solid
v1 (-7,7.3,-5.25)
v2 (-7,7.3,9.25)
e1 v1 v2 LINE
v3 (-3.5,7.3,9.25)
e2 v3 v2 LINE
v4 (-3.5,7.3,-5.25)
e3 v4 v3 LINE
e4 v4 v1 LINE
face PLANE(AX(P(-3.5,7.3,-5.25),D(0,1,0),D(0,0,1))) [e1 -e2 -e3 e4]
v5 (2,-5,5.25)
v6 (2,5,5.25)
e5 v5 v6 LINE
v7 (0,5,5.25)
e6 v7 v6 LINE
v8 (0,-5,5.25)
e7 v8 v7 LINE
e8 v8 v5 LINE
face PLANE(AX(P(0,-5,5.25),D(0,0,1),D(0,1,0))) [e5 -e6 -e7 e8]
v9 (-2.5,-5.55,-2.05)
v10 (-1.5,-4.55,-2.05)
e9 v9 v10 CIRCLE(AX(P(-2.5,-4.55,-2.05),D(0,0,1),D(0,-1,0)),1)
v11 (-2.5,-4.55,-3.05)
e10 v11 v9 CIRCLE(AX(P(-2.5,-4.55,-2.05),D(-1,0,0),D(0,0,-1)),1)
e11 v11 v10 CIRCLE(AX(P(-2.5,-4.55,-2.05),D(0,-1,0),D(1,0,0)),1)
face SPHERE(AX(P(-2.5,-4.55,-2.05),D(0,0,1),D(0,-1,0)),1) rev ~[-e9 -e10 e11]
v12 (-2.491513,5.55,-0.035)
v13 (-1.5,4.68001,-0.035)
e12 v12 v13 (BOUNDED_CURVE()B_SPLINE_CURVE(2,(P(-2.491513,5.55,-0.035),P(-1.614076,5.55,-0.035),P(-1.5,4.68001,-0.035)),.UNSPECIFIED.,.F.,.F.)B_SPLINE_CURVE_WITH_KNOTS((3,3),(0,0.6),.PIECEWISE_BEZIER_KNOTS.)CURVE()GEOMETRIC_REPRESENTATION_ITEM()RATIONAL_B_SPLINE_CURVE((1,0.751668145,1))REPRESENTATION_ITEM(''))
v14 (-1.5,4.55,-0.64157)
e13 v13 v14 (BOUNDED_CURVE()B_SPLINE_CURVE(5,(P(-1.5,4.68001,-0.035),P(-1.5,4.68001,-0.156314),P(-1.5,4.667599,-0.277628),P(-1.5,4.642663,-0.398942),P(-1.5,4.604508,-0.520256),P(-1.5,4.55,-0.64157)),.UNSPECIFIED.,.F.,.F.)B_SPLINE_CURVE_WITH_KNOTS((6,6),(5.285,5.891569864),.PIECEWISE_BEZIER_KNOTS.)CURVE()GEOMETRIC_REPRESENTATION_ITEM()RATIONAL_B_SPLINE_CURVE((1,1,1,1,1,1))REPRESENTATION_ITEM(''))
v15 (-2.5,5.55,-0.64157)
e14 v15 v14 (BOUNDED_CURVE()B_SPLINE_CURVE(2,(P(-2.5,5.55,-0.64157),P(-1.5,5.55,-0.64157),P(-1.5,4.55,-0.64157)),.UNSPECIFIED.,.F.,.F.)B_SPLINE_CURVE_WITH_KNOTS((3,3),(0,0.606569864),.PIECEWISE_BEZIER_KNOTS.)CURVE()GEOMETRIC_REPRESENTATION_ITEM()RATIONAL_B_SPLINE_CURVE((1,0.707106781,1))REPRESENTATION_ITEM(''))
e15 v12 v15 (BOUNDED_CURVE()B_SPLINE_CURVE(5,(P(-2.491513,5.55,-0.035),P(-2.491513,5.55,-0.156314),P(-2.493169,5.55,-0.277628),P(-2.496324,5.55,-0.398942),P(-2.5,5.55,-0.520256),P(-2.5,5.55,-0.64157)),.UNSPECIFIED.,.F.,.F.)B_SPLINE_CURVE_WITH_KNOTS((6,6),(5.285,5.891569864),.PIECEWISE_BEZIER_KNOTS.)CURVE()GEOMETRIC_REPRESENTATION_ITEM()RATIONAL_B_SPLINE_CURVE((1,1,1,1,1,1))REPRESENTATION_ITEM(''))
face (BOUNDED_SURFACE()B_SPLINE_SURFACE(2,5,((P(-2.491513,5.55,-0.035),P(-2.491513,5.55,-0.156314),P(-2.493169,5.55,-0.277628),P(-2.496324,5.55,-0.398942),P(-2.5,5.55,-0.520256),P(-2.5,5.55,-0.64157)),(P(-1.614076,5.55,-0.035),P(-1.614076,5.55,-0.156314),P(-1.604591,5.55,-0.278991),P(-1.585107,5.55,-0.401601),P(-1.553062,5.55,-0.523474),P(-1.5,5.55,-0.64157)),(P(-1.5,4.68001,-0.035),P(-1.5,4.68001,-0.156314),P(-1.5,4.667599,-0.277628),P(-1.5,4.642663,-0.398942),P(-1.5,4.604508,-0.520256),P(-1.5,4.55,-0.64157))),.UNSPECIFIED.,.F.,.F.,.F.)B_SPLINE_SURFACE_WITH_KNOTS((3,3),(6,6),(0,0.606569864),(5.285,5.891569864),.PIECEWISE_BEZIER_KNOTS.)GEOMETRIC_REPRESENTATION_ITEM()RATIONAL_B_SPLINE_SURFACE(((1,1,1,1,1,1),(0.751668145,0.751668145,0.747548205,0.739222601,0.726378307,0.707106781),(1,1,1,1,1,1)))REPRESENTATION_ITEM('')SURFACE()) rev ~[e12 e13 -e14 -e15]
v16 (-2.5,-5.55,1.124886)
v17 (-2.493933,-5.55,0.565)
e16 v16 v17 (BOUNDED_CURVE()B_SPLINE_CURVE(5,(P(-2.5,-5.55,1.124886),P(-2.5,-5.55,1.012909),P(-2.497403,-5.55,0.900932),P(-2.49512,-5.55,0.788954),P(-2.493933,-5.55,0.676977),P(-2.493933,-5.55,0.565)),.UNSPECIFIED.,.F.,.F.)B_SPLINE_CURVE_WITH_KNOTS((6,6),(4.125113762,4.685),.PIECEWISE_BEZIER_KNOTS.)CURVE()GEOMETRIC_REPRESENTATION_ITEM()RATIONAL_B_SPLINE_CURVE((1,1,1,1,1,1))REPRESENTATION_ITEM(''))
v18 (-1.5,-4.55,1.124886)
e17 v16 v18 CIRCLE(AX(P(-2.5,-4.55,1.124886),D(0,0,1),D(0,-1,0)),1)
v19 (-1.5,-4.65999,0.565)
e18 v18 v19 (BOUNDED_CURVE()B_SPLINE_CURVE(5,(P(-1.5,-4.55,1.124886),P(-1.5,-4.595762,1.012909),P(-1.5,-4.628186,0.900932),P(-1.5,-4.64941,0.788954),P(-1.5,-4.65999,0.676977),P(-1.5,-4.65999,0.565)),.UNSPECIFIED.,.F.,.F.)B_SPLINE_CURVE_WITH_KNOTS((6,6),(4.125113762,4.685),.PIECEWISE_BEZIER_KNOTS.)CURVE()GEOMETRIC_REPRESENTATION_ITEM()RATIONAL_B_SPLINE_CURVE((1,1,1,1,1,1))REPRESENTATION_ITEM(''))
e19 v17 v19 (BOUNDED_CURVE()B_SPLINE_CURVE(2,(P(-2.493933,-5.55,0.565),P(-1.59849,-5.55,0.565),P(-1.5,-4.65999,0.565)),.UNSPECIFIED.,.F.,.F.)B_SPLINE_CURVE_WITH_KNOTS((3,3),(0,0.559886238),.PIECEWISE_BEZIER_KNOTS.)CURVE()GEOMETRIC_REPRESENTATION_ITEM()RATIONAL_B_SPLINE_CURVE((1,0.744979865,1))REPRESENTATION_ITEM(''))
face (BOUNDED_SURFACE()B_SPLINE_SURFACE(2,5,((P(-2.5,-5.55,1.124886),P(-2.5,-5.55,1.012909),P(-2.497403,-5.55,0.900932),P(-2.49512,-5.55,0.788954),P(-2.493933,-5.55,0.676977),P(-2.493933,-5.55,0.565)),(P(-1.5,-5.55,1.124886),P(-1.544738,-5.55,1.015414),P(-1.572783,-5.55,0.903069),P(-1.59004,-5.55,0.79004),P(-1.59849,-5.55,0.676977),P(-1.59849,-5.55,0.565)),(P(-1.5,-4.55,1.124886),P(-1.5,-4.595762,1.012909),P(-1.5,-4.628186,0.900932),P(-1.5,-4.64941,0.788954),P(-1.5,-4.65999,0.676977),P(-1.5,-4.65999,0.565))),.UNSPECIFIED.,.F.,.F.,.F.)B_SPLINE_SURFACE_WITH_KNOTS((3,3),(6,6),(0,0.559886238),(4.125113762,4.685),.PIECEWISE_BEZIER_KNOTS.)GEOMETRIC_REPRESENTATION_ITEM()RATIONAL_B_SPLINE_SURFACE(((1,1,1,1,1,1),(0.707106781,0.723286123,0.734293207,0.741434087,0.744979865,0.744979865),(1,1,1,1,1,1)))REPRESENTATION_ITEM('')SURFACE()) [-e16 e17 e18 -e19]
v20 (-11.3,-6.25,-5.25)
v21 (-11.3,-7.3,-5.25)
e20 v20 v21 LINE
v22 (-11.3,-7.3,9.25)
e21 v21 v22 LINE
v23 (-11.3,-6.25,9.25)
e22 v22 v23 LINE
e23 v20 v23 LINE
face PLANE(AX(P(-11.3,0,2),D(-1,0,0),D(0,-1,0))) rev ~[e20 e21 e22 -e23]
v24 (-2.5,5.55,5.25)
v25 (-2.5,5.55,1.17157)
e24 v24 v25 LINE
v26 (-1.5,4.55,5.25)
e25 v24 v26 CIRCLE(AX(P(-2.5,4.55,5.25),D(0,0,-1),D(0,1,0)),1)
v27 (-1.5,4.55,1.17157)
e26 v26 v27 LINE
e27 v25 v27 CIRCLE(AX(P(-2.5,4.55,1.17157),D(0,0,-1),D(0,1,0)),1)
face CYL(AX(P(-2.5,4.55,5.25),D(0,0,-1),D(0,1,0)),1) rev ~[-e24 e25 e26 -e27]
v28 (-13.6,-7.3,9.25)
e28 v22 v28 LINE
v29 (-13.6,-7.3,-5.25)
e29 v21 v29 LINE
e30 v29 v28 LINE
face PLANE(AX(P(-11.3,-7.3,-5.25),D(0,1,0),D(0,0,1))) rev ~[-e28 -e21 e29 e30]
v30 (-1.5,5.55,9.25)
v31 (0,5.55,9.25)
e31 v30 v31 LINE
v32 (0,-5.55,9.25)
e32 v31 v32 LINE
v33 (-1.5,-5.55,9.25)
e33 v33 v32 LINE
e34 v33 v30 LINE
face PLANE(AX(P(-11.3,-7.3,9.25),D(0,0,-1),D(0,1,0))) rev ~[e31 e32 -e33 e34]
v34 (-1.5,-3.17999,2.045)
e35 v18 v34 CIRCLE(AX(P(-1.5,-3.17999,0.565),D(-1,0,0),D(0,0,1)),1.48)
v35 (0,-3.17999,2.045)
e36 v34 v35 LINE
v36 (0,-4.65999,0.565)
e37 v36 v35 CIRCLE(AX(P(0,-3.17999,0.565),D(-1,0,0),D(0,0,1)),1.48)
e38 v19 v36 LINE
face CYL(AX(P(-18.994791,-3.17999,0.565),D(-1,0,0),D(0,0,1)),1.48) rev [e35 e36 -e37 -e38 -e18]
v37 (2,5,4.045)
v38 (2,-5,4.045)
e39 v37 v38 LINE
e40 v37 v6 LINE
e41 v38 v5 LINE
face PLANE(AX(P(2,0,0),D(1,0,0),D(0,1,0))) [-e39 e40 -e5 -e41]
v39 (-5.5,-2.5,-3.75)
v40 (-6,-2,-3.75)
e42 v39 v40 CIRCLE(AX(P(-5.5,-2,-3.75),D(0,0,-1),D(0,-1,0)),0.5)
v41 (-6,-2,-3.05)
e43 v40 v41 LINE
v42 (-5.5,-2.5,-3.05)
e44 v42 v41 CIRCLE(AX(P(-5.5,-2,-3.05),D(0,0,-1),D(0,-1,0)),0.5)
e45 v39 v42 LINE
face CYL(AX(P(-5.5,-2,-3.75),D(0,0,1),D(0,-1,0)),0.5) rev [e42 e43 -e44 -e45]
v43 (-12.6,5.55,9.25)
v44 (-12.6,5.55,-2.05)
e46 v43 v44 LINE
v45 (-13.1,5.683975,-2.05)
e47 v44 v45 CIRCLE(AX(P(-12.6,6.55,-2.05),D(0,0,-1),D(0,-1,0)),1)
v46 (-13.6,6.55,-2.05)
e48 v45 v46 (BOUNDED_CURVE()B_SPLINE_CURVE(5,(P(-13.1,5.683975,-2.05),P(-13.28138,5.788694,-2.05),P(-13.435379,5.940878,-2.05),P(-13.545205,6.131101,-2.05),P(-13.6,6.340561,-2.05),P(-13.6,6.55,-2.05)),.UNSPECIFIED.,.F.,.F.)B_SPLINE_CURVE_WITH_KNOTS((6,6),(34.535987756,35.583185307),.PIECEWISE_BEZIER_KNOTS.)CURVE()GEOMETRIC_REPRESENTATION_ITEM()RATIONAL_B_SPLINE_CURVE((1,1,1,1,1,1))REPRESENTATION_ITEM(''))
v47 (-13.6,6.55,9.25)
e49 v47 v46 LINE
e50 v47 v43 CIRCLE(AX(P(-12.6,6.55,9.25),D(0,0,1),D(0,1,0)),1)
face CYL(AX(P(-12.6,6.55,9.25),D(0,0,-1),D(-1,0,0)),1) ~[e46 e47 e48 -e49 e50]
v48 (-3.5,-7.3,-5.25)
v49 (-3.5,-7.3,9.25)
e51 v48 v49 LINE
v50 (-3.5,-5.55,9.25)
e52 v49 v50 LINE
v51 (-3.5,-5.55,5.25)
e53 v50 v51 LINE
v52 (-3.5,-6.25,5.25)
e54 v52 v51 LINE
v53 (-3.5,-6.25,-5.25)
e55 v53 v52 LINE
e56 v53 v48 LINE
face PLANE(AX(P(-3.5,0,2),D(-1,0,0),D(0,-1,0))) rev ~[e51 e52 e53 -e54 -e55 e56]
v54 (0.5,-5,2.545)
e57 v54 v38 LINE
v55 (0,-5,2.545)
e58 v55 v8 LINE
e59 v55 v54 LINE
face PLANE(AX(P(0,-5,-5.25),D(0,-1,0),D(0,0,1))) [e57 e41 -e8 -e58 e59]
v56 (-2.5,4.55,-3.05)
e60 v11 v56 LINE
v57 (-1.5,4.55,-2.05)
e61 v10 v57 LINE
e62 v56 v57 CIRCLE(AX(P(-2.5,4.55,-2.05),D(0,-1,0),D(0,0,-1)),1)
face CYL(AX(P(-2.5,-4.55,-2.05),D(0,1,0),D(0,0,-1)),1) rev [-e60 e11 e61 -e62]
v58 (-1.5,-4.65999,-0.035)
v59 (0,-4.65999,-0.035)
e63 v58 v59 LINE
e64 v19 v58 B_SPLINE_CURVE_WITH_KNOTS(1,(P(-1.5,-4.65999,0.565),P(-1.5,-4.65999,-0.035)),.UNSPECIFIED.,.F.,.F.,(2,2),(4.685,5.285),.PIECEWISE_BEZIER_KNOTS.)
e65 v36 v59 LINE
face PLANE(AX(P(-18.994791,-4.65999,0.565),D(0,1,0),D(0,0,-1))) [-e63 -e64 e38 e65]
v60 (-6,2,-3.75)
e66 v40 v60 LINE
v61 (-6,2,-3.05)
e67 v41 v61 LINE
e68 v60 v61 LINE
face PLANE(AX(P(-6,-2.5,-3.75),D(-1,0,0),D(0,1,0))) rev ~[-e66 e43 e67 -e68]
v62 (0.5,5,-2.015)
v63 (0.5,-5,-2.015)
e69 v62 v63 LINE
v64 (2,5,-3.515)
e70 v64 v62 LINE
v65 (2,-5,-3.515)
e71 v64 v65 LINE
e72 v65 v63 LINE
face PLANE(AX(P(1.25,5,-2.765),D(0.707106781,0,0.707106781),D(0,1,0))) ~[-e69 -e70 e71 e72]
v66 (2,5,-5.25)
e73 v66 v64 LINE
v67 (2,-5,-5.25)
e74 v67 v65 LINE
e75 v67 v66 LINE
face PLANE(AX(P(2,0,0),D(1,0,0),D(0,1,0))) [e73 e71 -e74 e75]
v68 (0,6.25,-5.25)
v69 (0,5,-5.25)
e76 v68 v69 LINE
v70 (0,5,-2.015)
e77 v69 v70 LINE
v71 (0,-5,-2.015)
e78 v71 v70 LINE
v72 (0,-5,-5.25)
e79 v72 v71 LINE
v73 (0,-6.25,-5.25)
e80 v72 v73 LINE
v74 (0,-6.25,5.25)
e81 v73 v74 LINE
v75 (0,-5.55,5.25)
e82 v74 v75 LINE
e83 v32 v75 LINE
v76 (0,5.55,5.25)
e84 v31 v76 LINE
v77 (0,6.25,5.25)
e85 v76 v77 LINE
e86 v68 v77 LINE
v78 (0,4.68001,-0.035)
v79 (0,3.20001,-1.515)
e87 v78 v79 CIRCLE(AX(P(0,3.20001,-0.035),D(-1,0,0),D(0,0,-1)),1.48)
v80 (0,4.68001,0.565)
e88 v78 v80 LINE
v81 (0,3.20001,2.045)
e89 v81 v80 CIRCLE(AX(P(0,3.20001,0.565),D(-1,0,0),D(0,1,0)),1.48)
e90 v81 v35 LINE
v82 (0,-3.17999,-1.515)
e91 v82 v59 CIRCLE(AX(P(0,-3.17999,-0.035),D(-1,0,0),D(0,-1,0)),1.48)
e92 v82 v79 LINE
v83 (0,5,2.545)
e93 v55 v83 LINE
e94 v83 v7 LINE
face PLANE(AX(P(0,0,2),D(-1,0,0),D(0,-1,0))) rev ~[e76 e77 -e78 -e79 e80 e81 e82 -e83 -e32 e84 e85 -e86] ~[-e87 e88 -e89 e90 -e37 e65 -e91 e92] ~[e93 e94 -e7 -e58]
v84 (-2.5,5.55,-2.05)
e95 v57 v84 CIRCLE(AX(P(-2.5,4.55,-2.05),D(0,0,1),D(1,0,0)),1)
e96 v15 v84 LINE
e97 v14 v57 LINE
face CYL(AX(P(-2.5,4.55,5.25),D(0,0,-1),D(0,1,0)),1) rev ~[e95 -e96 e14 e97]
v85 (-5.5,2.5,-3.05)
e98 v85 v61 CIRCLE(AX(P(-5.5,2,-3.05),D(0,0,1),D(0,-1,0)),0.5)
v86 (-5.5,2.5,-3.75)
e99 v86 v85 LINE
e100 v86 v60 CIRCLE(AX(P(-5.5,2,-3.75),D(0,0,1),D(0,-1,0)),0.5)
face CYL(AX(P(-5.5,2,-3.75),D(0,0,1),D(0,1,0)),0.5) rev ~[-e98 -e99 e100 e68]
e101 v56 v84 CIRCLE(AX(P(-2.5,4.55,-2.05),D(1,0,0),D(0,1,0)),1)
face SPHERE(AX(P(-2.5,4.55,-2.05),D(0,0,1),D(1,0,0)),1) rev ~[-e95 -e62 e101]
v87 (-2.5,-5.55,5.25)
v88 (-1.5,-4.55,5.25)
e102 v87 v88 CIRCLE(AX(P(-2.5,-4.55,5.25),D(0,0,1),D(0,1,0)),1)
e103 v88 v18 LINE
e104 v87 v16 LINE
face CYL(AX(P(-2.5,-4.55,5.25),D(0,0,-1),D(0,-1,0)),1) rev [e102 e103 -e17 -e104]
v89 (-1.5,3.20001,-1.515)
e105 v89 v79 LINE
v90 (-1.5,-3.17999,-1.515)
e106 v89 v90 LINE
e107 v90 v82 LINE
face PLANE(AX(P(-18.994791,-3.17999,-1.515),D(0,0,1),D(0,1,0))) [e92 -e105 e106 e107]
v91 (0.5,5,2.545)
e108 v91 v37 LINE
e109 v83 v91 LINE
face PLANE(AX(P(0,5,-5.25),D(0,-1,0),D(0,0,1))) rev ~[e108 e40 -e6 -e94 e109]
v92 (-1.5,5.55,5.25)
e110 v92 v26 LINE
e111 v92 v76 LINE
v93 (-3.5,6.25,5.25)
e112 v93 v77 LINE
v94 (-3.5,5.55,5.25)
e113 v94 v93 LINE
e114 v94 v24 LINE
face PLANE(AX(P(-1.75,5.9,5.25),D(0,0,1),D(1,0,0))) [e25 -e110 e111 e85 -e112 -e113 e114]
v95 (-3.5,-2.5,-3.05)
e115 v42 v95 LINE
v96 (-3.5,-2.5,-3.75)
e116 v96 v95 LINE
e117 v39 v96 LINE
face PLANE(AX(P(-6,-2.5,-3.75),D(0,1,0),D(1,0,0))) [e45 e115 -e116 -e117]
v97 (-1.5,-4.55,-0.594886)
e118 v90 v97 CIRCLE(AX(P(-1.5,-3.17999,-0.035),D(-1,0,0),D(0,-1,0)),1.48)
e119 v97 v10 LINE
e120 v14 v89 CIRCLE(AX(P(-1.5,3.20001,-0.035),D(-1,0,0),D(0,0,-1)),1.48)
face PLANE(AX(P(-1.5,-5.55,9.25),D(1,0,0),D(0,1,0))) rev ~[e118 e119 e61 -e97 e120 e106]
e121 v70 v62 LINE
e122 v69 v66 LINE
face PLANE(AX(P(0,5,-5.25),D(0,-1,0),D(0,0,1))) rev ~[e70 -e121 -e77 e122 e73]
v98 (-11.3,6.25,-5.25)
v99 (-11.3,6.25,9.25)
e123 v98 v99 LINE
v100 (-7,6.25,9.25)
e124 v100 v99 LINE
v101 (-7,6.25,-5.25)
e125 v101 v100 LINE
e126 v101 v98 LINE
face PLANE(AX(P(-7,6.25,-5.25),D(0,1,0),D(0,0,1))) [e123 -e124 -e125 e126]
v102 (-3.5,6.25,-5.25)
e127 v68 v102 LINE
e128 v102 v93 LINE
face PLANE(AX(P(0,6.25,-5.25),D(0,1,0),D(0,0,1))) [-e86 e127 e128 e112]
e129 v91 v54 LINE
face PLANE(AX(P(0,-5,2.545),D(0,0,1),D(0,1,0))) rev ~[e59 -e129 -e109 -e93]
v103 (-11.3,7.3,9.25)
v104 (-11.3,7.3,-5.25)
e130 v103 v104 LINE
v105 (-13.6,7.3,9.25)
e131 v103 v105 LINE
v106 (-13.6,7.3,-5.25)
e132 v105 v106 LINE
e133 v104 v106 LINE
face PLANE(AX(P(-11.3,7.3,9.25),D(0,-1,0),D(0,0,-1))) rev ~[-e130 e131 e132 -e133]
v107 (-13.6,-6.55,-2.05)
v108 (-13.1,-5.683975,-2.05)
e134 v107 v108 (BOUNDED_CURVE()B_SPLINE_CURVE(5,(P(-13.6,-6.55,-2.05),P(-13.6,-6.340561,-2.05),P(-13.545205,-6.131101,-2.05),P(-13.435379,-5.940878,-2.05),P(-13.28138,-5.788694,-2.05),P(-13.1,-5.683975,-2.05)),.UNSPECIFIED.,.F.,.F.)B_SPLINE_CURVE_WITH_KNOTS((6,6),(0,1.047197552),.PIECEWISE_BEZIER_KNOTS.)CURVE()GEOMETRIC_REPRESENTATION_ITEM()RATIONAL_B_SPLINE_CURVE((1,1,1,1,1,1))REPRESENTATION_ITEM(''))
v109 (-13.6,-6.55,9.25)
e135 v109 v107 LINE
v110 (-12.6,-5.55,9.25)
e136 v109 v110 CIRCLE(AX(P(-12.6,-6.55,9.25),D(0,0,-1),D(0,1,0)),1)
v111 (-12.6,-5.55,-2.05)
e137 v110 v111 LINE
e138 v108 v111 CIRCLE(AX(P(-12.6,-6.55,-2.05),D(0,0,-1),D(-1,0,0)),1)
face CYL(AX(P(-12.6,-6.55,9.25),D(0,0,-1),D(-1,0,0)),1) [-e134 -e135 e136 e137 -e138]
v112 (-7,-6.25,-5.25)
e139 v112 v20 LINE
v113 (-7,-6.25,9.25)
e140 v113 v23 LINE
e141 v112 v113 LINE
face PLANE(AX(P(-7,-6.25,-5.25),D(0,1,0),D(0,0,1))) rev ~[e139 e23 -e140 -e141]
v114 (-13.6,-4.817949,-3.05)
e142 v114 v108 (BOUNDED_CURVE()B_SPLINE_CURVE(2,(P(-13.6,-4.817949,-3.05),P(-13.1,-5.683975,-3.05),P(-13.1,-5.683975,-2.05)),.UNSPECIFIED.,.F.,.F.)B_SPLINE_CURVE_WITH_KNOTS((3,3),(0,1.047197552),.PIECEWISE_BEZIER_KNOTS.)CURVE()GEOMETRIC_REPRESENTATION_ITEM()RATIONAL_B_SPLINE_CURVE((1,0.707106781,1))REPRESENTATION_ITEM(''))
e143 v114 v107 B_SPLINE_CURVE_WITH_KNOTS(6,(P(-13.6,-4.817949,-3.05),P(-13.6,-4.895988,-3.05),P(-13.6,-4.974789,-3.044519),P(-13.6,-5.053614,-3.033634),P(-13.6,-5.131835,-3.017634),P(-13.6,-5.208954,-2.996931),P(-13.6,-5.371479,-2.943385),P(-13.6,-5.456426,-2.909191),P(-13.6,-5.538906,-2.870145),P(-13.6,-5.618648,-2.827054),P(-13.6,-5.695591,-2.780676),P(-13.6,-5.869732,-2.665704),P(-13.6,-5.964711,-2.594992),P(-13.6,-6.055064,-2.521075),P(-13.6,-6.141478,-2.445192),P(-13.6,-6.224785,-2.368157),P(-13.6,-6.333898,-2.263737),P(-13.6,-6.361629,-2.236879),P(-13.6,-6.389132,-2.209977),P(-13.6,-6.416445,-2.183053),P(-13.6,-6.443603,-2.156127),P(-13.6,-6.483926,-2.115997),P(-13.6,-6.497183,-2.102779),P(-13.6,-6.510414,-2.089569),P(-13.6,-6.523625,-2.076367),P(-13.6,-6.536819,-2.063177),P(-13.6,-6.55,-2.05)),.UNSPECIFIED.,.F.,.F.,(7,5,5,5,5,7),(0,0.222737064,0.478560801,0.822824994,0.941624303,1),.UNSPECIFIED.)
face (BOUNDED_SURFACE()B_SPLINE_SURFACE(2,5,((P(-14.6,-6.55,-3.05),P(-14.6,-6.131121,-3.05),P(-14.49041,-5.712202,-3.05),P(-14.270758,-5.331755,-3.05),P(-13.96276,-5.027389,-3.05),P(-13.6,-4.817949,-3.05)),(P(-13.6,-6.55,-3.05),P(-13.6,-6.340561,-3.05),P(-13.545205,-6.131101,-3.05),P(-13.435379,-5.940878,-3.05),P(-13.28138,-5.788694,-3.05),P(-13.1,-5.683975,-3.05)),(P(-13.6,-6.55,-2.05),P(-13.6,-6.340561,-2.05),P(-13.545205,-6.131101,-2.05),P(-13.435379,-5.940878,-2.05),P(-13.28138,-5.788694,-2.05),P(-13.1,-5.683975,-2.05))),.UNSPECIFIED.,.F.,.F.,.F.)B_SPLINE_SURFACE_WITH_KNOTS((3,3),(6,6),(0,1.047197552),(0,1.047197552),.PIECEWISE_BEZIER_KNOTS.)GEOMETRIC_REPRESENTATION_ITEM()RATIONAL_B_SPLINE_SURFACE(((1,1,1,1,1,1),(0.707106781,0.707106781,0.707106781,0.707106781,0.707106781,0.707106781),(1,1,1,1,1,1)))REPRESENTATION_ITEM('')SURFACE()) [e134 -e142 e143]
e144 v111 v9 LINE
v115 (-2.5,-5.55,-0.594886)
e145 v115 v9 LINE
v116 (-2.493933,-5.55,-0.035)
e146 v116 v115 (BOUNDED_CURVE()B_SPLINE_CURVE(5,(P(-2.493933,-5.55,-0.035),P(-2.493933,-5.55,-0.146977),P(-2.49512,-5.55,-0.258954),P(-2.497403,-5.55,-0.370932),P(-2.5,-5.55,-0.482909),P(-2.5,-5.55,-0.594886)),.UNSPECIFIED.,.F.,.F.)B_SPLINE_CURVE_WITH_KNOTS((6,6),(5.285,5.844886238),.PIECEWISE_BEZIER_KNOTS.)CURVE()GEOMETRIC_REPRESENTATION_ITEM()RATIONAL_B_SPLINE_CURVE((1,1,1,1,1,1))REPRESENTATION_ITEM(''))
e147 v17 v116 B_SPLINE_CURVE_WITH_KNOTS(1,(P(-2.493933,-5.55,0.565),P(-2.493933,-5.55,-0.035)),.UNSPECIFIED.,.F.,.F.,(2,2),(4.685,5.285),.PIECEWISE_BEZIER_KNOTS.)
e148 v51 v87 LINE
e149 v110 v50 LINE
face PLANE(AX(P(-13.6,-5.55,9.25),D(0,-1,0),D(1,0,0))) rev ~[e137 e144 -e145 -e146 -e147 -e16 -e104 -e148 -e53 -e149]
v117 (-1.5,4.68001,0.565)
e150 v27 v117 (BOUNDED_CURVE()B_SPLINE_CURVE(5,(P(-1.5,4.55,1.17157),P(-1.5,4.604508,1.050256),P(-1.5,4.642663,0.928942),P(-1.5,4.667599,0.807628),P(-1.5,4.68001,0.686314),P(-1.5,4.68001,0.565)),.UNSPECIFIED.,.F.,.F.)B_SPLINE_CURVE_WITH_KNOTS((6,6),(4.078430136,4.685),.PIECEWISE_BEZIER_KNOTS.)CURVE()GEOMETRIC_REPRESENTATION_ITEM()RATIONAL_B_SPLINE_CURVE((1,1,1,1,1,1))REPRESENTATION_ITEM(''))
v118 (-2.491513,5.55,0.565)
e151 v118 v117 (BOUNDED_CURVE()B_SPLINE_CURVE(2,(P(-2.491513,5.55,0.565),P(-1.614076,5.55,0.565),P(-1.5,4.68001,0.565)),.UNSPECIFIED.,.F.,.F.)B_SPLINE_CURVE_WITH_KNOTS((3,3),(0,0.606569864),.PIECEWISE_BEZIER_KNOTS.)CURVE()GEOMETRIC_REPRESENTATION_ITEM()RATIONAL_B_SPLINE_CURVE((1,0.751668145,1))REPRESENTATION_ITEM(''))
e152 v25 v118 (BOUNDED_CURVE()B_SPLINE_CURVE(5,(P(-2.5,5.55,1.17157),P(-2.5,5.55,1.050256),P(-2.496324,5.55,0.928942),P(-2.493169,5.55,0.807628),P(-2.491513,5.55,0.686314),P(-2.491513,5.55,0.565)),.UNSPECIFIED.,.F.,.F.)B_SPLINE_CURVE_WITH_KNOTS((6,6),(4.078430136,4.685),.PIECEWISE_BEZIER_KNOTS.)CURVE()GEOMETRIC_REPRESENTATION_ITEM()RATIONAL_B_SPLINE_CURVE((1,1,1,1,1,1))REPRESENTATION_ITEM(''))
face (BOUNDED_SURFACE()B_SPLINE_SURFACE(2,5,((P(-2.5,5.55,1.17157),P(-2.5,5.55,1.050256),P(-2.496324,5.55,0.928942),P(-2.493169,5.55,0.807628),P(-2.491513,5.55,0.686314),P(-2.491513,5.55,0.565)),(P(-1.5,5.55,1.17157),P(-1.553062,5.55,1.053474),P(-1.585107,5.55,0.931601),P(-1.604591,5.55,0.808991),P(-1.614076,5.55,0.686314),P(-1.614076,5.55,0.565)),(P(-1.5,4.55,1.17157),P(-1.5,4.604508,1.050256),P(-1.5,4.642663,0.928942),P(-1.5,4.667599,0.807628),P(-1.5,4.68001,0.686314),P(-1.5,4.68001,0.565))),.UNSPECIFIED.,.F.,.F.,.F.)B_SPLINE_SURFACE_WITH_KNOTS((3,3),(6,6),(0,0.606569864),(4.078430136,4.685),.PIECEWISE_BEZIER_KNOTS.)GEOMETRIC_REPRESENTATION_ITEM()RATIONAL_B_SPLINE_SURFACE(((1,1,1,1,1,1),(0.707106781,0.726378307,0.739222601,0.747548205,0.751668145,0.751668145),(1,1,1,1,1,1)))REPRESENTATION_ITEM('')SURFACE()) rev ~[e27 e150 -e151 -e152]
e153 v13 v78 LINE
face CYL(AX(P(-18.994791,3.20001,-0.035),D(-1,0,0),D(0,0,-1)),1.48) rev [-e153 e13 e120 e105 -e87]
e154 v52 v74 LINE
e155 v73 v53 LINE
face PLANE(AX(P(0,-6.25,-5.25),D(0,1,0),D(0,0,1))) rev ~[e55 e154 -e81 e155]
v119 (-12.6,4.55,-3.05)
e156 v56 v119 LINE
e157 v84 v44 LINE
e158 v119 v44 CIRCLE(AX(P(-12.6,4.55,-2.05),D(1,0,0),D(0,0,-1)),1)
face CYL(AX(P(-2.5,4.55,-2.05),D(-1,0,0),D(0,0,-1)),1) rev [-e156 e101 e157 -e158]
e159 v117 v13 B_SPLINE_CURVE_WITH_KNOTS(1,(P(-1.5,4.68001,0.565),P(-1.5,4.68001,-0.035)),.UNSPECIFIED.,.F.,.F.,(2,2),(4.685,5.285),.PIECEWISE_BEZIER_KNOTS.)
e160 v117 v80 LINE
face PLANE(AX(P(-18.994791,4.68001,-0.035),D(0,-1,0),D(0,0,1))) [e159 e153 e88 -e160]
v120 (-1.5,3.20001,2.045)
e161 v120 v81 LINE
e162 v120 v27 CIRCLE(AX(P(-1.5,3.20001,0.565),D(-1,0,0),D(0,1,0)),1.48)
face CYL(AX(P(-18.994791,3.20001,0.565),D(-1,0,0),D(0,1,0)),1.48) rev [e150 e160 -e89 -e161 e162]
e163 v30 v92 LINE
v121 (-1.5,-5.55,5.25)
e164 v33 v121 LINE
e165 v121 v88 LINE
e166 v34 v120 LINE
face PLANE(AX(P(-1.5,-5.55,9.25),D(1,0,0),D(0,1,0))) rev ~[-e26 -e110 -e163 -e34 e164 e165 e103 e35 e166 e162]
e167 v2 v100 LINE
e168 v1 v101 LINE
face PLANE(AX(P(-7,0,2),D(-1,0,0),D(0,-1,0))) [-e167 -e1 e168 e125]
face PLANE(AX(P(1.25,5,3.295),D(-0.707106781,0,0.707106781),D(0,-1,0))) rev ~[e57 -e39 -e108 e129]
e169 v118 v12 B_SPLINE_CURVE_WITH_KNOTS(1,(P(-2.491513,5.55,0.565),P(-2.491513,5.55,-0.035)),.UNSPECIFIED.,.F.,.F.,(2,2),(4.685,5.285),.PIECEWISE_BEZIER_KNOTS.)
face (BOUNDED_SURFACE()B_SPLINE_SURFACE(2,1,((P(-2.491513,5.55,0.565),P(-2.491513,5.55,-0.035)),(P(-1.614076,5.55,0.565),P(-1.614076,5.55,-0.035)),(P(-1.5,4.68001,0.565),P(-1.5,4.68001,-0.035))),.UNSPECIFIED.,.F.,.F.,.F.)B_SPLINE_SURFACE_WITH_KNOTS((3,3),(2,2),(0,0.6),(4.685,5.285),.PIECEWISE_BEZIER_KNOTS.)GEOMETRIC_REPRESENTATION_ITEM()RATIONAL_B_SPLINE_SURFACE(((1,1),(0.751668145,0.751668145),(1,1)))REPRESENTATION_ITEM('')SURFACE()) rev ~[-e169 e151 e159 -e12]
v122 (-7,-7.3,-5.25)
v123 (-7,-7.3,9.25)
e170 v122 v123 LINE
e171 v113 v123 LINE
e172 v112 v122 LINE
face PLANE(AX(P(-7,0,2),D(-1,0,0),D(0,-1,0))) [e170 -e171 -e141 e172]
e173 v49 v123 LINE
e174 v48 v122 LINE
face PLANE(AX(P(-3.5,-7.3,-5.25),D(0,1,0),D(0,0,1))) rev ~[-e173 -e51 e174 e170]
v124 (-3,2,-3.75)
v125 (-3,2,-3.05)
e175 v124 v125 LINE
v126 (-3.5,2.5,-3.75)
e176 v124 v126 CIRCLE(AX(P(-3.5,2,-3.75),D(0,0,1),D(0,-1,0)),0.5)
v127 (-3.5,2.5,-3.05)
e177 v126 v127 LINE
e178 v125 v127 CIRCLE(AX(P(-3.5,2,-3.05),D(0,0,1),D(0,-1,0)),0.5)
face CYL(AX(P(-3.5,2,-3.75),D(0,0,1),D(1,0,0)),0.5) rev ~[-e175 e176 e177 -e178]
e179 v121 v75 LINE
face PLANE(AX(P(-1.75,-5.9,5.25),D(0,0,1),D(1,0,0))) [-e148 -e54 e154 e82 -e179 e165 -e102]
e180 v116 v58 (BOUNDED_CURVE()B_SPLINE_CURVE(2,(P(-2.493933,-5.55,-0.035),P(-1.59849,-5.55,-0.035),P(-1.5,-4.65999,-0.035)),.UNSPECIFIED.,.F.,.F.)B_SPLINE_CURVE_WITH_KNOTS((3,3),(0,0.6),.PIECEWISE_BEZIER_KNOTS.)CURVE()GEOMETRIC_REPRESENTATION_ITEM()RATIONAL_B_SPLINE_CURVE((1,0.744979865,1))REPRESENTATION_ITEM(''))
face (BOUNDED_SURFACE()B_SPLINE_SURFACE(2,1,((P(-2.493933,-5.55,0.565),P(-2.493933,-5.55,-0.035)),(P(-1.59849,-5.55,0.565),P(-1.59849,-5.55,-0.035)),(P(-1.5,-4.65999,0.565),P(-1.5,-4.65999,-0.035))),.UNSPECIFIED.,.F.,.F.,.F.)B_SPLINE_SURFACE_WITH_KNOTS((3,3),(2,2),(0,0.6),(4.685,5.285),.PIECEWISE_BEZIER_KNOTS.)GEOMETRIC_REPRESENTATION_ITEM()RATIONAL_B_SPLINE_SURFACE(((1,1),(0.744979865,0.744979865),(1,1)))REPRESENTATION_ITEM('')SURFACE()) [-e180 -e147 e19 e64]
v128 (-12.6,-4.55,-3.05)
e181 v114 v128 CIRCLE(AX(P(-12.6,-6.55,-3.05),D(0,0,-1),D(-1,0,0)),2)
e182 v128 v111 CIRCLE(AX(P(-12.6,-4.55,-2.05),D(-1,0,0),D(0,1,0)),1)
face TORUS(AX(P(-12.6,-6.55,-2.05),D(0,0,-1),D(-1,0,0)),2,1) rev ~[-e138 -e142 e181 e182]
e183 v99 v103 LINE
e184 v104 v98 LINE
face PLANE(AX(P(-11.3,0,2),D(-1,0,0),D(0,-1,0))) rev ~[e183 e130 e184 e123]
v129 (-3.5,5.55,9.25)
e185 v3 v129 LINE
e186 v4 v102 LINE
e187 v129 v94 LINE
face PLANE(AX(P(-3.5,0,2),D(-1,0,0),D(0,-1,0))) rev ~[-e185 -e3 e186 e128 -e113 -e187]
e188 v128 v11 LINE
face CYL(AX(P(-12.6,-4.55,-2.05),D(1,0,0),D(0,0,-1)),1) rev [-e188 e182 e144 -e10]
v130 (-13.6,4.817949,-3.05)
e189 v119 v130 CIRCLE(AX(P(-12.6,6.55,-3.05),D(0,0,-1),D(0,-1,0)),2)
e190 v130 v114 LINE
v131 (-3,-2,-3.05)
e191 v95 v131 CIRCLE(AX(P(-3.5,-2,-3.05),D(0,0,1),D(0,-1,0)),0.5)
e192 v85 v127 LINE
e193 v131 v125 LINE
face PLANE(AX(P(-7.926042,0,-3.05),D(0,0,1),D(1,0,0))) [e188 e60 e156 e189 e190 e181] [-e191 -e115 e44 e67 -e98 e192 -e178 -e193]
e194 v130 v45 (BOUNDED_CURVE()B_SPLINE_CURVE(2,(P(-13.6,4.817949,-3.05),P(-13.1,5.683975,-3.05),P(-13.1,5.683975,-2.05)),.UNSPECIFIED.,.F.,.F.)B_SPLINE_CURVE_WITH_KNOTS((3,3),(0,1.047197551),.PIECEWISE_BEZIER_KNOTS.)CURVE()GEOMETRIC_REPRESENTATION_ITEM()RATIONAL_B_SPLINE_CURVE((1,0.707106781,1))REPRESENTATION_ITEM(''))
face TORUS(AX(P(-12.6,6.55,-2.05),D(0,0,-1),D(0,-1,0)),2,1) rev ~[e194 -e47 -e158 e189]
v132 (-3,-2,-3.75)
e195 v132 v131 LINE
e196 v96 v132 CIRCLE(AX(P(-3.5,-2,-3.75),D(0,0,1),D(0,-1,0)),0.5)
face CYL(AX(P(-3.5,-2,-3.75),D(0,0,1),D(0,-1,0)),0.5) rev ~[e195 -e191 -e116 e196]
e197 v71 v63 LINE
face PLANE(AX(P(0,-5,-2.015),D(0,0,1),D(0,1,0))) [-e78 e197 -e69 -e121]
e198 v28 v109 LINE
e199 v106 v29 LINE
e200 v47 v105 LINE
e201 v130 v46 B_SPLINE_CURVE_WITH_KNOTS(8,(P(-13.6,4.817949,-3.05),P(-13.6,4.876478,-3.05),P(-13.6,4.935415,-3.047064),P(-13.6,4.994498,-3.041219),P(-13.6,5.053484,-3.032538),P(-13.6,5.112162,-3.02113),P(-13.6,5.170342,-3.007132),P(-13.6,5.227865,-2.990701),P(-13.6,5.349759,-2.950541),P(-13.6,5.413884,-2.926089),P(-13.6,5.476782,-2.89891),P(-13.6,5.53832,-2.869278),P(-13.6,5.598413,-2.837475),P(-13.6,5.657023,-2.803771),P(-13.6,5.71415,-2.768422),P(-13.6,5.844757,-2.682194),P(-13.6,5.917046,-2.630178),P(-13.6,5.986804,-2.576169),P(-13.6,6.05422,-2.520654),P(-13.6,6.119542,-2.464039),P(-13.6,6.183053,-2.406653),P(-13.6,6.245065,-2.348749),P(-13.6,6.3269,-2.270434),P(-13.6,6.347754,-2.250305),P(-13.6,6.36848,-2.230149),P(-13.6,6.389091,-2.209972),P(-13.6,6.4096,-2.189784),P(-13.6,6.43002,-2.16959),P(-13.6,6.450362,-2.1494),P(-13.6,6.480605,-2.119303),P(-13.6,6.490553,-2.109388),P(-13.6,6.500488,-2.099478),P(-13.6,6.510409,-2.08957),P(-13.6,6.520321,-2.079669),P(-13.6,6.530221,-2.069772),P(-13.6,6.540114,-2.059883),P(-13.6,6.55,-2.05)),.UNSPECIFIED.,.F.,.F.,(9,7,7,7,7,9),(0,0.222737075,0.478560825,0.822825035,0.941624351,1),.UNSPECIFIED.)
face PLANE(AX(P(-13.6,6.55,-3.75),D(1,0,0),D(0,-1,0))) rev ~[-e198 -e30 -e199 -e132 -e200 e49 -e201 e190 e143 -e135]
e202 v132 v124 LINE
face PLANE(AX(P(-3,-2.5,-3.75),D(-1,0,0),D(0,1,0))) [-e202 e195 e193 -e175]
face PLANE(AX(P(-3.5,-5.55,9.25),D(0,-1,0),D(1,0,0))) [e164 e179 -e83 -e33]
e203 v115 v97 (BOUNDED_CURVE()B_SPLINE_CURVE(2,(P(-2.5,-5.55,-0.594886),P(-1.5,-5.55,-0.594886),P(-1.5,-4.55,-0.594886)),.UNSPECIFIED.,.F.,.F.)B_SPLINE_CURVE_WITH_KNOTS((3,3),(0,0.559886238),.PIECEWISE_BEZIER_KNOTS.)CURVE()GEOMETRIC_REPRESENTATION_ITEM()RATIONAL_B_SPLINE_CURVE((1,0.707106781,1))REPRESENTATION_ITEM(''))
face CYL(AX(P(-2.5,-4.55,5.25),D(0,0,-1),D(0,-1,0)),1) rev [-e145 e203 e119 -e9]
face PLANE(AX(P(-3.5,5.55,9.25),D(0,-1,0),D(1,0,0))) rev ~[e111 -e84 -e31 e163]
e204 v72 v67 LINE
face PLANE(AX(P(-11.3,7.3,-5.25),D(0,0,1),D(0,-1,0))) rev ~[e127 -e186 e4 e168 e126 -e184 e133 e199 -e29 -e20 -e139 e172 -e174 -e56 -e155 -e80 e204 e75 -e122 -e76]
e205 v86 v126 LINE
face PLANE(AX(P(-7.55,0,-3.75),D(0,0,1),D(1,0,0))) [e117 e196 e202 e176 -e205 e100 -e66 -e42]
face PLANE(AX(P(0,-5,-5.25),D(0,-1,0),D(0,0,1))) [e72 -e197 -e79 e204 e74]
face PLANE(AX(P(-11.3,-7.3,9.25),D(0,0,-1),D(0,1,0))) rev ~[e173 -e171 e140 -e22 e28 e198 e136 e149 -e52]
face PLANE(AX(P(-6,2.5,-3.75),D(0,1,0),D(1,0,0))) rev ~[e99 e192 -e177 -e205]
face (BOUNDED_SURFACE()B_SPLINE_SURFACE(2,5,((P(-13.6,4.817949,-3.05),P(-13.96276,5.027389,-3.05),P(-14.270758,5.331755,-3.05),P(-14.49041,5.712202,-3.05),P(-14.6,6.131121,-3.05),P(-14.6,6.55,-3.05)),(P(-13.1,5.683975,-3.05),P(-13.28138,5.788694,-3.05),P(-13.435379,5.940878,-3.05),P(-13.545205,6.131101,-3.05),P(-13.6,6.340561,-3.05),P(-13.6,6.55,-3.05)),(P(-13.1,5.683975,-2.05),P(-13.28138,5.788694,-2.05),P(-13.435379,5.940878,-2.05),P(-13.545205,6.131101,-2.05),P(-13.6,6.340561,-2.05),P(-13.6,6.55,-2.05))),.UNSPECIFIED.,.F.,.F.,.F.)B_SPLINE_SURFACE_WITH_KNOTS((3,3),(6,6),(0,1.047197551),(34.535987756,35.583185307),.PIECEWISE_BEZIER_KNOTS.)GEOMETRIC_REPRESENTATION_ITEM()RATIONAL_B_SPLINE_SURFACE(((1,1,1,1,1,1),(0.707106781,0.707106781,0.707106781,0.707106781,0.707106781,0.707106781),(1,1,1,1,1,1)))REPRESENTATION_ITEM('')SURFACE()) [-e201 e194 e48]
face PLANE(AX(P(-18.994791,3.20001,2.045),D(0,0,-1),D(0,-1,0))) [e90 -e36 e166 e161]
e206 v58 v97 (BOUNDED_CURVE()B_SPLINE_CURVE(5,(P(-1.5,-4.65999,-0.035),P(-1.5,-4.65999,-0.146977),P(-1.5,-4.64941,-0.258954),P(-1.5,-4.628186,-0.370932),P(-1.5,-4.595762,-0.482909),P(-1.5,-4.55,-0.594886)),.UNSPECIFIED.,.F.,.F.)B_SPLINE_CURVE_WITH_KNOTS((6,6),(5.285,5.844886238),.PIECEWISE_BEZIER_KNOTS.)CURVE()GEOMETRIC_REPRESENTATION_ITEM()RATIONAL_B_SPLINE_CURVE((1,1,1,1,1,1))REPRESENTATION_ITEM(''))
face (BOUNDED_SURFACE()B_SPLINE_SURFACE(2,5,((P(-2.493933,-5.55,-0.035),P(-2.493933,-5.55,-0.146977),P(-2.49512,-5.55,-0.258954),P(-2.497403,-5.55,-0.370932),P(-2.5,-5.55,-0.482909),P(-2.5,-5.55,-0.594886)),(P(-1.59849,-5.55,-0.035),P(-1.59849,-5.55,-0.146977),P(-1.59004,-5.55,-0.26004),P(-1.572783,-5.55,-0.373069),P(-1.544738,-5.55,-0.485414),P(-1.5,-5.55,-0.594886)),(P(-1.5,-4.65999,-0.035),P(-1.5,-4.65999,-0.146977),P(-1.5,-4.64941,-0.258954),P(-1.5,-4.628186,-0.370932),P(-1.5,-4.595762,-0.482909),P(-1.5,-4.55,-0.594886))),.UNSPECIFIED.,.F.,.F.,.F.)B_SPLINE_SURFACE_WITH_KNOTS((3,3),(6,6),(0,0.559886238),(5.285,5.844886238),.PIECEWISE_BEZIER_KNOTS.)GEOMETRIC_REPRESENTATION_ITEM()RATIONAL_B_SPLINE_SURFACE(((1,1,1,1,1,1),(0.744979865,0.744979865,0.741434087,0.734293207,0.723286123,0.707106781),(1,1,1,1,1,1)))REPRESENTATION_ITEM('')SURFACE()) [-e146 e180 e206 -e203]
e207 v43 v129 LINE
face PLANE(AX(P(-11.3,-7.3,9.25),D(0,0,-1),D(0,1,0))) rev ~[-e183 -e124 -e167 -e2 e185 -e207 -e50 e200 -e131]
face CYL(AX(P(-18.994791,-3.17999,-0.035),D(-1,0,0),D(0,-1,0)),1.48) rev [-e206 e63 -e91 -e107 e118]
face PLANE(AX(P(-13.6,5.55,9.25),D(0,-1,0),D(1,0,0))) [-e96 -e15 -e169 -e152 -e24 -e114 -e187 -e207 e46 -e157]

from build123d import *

# Parameters (mm, degrees)
SKETCH2_W                = 10
SKETCH2_H                = 10.5
BOSS_EXTRUDE1_DEPTH      = 2
SKETCH3_W                = 12.5
SKETCH3_H                = 14.5
BOSS_EXTRUDE2_DEPTH      = 3.5
SKETCH4_W                = 14.6
SKETCH4_H                = 14.5
BOSS_EXTRUDE3_DEPTH      = 3.5
SKETCH5_W                = 12.5
SKETCH5_H                = 14.5
BOSS_EXTRUDE4_DEPTH      = 4.3
BOSS_EXTRUDE5_DEPTH      = 2.3
SKETCH8_W                = 12.1
SKETCH8_H                = 11.1
CUT_EXTRUDE1_DEPTH       = 13
SKETCH10_W               = 3.5
SKETCH10_H               = 0.7
CUT_EXTRUDE6_DEPTH       = 4
FILLET1_R                = 1
CUT_EXTRUDE9_DEPTH       = 18.994790913
CUT_EXTRUDE9_DEPTH_BACK  = 18.994790913
SKETCH15_W               = 3
SKETCH15_H               = 5
BOSS_EXTRUDE6_DEPTH      = 0.7
FILLET5_R                = 0.5
FILLET3_R                = 1
FILLET4_R                = 1
CUT_EXTRUDE10_DEPTH      = 20.550255917
CUT_EXTRUDE10_DEPTH_BACK = 2
SKETCH14_W               = 4.56
SKETCH14_H               = 10
CHAMFER4_SIZE            = 1.5


with BuildPart() as part:
    # Sketch2 → Boss-Extrude1 (new body)
    with BuildSketch(Plane.YZ):
        Rectangle(SKETCH2_W, SKETCH2_H)
    extrude(amount=BOSS_EXTRUDE1_DEPTH)

    # Sketch3 → Boss-Extrude2 (add)
    with BuildSketch(Plane(origin=(0, 0, 0), x_dir=(0, -1, 0), z_dir=(-1, 0, 0))):
        with Locations((0, 2)):
            Rectangle(SKETCH3_W, SKETCH3_H)
    extrude(amount=BOSS_EXTRUDE2_DEPTH)

    # Sketch4 → Boss-Extrude3 (add)
    with BuildSketch(Plane(origin=(-3.5, 0, 0), x_dir=(0, -1, 0), z_dir=(-1, 0, 0))):
        with Locations((0, 2)):
            Rectangle(SKETCH4_W, SKETCH4_H)
    extrude(amount=BOSS_EXTRUDE3_DEPTH)

    # Sketch5 → Boss-Extrude4 (add)
    with BuildSketch(Plane(origin=(-7, 0, 0), x_dir=(0, -1, 0), z_dir=(-1, 0, 0))):
        with Locations((0, 2)):
            Rectangle(SKETCH5_W, SKETCH5_H)
    extrude(amount=BOSS_EXTRUDE4_DEPTH)

    # Sketch6 → Boss-Extrude5 (add)
    with BuildSketch(Plane(origin=(-11.3, 0, 0), x_dir=(0, -1, 0), z_dir=(-1, 0, 0))):
        Polygon((6.25, -5.25), (7.3, -5.25), (7.3, 9.25), (6.25, 9.25), (-6.25, 9.25), (-7.3, 9.25), (-7.3, -5.25), (-6.25, -5.25), align=None)
    extrude(amount=BOSS_EXTRUDE5_DEPTH)

    # Sketch8 → Cut-Extrude1 (cut)
    with BuildSketch(Plane.XY.offset(9.25)):
        with Locations((-7.55, 0)):
            Rectangle(SKETCH8_W, SKETCH8_H)
    extrude(amount=-CUT_EXTRUDE1_DEPTH, mode=Mode.SUBTRACT)

    # Sketch10 → Cut-Extrude6 (cut)
    with BuildSketch(Plane.XY.offset(9.25)):
        with Locations((-1.75, 5.9)):
            Rectangle(SKETCH10_W, SKETCH10_H)
        with Locations((-1.75, -5.9)):
            Rectangle(SKETCH10_W, SKETCH10_H)
    extrude(amount=-CUT_EXTRUDE6_DEPTH, mode=Mode.SUBTRACT)

    # Fillet1
    fillet1_edges = [part.edges().sort_by_distance(p)[0] for p in [
        (-13.6, -5.55, 2.75),
        (-13.6, 5.55, 2.75),
    ]]
    fillet(fillet1_edges, radius=FILLET1_R)

    # Sketch13 → Cut-Extrude9 (cut, two sides: drawn at the far end of the back side and taken through both)
    with BuildSketch(Plane(origin=(0, 0, 0), x_dir=(0, 0, -1), z_dir=(1, 0, 0)).offset(-CUT_EXTRUDE9_DEPTH_BACK)):
        with BuildLine():
            Line((-2.045, 0.01001), (-2.045, -3.17999))
            ThreePointArc((-2.045, -3.17999), (-1.611518036, -4.226508036), (-0.565, -4.65999))
            Line((-0.565, -4.65999), (0.035, -4.65999))
            ThreePointArc((0.035, -4.65999), (1.081518036, -4.226508036), (1.515, -3.17999))
            Line((1.515, -3.17999), (1.515, 0.01001))
            Line((1.515, 0.01001), (1.515, 3.20001))
            ThreePointArc((1.515, 3.20001), (1.081518036, 4.246528036), (0.035, 4.68001))
            Line((0.035, 4.68001), (-0.565, 4.68001))
            ThreePointArc((-0.565, 4.68001), (-1.611518036, 4.246528036), (-2.045, 3.20001))
            Line((-2.045, 3.20001), (-2.045, 0.01001))
        make_face()
    extrude(amount=CUT_EXTRUDE9_DEPTH + CUT_EXTRUDE9_DEPTH_BACK, mode=Mode.SUBTRACT)

    # Sketch15 → Boss-Extrude6 (add)
    with BuildSketch(Plane.XY.offset(-3.75)):
        with BuildLine():
            Line((-13.6, 6.55), (-13.6, -6.55))
            ThreePointArc((-13.6, -6.55), (-13.307106781, -5.842893219), (-12.6, -5.55))
            Line((-12.6, -5.55), (-1.5, -5.55))
            Line((-1.5, -5.55), (-1.5, 5.55))
            Line((-1.5, 5.55), (-12.6, 5.55))
            ThreePointArc((-12.6, 5.55), (-13.307106781, 5.842893219), (-13.6, 6.55))
        make_face()
        with Locations((-4.5, 0)):
            Rectangle(SKETCH15_W, SKETCH15_H, mode=Mode.SUBTRACT)
    extrude(amount=BOSS_EXTRUDE6_DEPTH)

    # Fillet5
    fillet5_edges = [part.edges().sort_by_distance(p)[0] for p in [
        (-3, 2.5, -3.4),
        (-6, 2.5, -3.4),
        (-6, -2.5, -3.4),
        (-3, -2.5, -3.4),
    ]]
    fillet(fillet5_edges, radius=FILLET5_R)

    # Fillet3
    fillet3_edges = [part.edges().sort_by_distance(p)[0] for p in [
        (-1.5, -5.55, 1.1),
        (-1.5, 5.55, 1.1),
    ]]
    fillet(fillet3_edges, radius=FILLET3_R)

    # Fillet4
    fillet4_edges = [part.edges().sort_by_distance(p)[0] for p in [
        (-13.307106781, 5.842893219, -3.05),
        (-13.307106781, -5.842893219, -3.05),
        (-7.55, -5.55, -3.05),
        (-7.55, 5.55, -3.05),
        (-1.5, 0, -3.05),
        (-1.792893219, -5.257106781, -3.05),
        (-1.792893219, 5.257106781, -3.05),
    ]]
    fillet(fillet4_edges, radius=FILLET4_R)

    # Sketch14 → Cut-Extrude10 (cut, two sides: drawn at the far end of the back side and taken through both)
    with BuildSketch(Plane(origin=(2, 0, 0), x_dir=(0, 0, -1), z_dir=(1, 0, 0)).offset(-CUT_EXTRUDE10_DEPTH_BACK)):
        with Locations((-0.265, 0)):
            Rectangle(SKETCH14_W, SKETCH14_H)
    extrude(amount=CUT_EXTRUDE10_DEPTH + CUT_EXTRUDE10_DEPTH_BACK, mode=Mode.SUBTRACT)

    # Chamfer4
    chamfer4_edges = [part.edges().sort_by_distance(p)[0] for p in [
        (2, 0, 2.545),
        (2, 0, -2.015),
    ]]
    chamfer(chamfer4_edges, length=CHAMFER4_SIZE)


solid = part.part
